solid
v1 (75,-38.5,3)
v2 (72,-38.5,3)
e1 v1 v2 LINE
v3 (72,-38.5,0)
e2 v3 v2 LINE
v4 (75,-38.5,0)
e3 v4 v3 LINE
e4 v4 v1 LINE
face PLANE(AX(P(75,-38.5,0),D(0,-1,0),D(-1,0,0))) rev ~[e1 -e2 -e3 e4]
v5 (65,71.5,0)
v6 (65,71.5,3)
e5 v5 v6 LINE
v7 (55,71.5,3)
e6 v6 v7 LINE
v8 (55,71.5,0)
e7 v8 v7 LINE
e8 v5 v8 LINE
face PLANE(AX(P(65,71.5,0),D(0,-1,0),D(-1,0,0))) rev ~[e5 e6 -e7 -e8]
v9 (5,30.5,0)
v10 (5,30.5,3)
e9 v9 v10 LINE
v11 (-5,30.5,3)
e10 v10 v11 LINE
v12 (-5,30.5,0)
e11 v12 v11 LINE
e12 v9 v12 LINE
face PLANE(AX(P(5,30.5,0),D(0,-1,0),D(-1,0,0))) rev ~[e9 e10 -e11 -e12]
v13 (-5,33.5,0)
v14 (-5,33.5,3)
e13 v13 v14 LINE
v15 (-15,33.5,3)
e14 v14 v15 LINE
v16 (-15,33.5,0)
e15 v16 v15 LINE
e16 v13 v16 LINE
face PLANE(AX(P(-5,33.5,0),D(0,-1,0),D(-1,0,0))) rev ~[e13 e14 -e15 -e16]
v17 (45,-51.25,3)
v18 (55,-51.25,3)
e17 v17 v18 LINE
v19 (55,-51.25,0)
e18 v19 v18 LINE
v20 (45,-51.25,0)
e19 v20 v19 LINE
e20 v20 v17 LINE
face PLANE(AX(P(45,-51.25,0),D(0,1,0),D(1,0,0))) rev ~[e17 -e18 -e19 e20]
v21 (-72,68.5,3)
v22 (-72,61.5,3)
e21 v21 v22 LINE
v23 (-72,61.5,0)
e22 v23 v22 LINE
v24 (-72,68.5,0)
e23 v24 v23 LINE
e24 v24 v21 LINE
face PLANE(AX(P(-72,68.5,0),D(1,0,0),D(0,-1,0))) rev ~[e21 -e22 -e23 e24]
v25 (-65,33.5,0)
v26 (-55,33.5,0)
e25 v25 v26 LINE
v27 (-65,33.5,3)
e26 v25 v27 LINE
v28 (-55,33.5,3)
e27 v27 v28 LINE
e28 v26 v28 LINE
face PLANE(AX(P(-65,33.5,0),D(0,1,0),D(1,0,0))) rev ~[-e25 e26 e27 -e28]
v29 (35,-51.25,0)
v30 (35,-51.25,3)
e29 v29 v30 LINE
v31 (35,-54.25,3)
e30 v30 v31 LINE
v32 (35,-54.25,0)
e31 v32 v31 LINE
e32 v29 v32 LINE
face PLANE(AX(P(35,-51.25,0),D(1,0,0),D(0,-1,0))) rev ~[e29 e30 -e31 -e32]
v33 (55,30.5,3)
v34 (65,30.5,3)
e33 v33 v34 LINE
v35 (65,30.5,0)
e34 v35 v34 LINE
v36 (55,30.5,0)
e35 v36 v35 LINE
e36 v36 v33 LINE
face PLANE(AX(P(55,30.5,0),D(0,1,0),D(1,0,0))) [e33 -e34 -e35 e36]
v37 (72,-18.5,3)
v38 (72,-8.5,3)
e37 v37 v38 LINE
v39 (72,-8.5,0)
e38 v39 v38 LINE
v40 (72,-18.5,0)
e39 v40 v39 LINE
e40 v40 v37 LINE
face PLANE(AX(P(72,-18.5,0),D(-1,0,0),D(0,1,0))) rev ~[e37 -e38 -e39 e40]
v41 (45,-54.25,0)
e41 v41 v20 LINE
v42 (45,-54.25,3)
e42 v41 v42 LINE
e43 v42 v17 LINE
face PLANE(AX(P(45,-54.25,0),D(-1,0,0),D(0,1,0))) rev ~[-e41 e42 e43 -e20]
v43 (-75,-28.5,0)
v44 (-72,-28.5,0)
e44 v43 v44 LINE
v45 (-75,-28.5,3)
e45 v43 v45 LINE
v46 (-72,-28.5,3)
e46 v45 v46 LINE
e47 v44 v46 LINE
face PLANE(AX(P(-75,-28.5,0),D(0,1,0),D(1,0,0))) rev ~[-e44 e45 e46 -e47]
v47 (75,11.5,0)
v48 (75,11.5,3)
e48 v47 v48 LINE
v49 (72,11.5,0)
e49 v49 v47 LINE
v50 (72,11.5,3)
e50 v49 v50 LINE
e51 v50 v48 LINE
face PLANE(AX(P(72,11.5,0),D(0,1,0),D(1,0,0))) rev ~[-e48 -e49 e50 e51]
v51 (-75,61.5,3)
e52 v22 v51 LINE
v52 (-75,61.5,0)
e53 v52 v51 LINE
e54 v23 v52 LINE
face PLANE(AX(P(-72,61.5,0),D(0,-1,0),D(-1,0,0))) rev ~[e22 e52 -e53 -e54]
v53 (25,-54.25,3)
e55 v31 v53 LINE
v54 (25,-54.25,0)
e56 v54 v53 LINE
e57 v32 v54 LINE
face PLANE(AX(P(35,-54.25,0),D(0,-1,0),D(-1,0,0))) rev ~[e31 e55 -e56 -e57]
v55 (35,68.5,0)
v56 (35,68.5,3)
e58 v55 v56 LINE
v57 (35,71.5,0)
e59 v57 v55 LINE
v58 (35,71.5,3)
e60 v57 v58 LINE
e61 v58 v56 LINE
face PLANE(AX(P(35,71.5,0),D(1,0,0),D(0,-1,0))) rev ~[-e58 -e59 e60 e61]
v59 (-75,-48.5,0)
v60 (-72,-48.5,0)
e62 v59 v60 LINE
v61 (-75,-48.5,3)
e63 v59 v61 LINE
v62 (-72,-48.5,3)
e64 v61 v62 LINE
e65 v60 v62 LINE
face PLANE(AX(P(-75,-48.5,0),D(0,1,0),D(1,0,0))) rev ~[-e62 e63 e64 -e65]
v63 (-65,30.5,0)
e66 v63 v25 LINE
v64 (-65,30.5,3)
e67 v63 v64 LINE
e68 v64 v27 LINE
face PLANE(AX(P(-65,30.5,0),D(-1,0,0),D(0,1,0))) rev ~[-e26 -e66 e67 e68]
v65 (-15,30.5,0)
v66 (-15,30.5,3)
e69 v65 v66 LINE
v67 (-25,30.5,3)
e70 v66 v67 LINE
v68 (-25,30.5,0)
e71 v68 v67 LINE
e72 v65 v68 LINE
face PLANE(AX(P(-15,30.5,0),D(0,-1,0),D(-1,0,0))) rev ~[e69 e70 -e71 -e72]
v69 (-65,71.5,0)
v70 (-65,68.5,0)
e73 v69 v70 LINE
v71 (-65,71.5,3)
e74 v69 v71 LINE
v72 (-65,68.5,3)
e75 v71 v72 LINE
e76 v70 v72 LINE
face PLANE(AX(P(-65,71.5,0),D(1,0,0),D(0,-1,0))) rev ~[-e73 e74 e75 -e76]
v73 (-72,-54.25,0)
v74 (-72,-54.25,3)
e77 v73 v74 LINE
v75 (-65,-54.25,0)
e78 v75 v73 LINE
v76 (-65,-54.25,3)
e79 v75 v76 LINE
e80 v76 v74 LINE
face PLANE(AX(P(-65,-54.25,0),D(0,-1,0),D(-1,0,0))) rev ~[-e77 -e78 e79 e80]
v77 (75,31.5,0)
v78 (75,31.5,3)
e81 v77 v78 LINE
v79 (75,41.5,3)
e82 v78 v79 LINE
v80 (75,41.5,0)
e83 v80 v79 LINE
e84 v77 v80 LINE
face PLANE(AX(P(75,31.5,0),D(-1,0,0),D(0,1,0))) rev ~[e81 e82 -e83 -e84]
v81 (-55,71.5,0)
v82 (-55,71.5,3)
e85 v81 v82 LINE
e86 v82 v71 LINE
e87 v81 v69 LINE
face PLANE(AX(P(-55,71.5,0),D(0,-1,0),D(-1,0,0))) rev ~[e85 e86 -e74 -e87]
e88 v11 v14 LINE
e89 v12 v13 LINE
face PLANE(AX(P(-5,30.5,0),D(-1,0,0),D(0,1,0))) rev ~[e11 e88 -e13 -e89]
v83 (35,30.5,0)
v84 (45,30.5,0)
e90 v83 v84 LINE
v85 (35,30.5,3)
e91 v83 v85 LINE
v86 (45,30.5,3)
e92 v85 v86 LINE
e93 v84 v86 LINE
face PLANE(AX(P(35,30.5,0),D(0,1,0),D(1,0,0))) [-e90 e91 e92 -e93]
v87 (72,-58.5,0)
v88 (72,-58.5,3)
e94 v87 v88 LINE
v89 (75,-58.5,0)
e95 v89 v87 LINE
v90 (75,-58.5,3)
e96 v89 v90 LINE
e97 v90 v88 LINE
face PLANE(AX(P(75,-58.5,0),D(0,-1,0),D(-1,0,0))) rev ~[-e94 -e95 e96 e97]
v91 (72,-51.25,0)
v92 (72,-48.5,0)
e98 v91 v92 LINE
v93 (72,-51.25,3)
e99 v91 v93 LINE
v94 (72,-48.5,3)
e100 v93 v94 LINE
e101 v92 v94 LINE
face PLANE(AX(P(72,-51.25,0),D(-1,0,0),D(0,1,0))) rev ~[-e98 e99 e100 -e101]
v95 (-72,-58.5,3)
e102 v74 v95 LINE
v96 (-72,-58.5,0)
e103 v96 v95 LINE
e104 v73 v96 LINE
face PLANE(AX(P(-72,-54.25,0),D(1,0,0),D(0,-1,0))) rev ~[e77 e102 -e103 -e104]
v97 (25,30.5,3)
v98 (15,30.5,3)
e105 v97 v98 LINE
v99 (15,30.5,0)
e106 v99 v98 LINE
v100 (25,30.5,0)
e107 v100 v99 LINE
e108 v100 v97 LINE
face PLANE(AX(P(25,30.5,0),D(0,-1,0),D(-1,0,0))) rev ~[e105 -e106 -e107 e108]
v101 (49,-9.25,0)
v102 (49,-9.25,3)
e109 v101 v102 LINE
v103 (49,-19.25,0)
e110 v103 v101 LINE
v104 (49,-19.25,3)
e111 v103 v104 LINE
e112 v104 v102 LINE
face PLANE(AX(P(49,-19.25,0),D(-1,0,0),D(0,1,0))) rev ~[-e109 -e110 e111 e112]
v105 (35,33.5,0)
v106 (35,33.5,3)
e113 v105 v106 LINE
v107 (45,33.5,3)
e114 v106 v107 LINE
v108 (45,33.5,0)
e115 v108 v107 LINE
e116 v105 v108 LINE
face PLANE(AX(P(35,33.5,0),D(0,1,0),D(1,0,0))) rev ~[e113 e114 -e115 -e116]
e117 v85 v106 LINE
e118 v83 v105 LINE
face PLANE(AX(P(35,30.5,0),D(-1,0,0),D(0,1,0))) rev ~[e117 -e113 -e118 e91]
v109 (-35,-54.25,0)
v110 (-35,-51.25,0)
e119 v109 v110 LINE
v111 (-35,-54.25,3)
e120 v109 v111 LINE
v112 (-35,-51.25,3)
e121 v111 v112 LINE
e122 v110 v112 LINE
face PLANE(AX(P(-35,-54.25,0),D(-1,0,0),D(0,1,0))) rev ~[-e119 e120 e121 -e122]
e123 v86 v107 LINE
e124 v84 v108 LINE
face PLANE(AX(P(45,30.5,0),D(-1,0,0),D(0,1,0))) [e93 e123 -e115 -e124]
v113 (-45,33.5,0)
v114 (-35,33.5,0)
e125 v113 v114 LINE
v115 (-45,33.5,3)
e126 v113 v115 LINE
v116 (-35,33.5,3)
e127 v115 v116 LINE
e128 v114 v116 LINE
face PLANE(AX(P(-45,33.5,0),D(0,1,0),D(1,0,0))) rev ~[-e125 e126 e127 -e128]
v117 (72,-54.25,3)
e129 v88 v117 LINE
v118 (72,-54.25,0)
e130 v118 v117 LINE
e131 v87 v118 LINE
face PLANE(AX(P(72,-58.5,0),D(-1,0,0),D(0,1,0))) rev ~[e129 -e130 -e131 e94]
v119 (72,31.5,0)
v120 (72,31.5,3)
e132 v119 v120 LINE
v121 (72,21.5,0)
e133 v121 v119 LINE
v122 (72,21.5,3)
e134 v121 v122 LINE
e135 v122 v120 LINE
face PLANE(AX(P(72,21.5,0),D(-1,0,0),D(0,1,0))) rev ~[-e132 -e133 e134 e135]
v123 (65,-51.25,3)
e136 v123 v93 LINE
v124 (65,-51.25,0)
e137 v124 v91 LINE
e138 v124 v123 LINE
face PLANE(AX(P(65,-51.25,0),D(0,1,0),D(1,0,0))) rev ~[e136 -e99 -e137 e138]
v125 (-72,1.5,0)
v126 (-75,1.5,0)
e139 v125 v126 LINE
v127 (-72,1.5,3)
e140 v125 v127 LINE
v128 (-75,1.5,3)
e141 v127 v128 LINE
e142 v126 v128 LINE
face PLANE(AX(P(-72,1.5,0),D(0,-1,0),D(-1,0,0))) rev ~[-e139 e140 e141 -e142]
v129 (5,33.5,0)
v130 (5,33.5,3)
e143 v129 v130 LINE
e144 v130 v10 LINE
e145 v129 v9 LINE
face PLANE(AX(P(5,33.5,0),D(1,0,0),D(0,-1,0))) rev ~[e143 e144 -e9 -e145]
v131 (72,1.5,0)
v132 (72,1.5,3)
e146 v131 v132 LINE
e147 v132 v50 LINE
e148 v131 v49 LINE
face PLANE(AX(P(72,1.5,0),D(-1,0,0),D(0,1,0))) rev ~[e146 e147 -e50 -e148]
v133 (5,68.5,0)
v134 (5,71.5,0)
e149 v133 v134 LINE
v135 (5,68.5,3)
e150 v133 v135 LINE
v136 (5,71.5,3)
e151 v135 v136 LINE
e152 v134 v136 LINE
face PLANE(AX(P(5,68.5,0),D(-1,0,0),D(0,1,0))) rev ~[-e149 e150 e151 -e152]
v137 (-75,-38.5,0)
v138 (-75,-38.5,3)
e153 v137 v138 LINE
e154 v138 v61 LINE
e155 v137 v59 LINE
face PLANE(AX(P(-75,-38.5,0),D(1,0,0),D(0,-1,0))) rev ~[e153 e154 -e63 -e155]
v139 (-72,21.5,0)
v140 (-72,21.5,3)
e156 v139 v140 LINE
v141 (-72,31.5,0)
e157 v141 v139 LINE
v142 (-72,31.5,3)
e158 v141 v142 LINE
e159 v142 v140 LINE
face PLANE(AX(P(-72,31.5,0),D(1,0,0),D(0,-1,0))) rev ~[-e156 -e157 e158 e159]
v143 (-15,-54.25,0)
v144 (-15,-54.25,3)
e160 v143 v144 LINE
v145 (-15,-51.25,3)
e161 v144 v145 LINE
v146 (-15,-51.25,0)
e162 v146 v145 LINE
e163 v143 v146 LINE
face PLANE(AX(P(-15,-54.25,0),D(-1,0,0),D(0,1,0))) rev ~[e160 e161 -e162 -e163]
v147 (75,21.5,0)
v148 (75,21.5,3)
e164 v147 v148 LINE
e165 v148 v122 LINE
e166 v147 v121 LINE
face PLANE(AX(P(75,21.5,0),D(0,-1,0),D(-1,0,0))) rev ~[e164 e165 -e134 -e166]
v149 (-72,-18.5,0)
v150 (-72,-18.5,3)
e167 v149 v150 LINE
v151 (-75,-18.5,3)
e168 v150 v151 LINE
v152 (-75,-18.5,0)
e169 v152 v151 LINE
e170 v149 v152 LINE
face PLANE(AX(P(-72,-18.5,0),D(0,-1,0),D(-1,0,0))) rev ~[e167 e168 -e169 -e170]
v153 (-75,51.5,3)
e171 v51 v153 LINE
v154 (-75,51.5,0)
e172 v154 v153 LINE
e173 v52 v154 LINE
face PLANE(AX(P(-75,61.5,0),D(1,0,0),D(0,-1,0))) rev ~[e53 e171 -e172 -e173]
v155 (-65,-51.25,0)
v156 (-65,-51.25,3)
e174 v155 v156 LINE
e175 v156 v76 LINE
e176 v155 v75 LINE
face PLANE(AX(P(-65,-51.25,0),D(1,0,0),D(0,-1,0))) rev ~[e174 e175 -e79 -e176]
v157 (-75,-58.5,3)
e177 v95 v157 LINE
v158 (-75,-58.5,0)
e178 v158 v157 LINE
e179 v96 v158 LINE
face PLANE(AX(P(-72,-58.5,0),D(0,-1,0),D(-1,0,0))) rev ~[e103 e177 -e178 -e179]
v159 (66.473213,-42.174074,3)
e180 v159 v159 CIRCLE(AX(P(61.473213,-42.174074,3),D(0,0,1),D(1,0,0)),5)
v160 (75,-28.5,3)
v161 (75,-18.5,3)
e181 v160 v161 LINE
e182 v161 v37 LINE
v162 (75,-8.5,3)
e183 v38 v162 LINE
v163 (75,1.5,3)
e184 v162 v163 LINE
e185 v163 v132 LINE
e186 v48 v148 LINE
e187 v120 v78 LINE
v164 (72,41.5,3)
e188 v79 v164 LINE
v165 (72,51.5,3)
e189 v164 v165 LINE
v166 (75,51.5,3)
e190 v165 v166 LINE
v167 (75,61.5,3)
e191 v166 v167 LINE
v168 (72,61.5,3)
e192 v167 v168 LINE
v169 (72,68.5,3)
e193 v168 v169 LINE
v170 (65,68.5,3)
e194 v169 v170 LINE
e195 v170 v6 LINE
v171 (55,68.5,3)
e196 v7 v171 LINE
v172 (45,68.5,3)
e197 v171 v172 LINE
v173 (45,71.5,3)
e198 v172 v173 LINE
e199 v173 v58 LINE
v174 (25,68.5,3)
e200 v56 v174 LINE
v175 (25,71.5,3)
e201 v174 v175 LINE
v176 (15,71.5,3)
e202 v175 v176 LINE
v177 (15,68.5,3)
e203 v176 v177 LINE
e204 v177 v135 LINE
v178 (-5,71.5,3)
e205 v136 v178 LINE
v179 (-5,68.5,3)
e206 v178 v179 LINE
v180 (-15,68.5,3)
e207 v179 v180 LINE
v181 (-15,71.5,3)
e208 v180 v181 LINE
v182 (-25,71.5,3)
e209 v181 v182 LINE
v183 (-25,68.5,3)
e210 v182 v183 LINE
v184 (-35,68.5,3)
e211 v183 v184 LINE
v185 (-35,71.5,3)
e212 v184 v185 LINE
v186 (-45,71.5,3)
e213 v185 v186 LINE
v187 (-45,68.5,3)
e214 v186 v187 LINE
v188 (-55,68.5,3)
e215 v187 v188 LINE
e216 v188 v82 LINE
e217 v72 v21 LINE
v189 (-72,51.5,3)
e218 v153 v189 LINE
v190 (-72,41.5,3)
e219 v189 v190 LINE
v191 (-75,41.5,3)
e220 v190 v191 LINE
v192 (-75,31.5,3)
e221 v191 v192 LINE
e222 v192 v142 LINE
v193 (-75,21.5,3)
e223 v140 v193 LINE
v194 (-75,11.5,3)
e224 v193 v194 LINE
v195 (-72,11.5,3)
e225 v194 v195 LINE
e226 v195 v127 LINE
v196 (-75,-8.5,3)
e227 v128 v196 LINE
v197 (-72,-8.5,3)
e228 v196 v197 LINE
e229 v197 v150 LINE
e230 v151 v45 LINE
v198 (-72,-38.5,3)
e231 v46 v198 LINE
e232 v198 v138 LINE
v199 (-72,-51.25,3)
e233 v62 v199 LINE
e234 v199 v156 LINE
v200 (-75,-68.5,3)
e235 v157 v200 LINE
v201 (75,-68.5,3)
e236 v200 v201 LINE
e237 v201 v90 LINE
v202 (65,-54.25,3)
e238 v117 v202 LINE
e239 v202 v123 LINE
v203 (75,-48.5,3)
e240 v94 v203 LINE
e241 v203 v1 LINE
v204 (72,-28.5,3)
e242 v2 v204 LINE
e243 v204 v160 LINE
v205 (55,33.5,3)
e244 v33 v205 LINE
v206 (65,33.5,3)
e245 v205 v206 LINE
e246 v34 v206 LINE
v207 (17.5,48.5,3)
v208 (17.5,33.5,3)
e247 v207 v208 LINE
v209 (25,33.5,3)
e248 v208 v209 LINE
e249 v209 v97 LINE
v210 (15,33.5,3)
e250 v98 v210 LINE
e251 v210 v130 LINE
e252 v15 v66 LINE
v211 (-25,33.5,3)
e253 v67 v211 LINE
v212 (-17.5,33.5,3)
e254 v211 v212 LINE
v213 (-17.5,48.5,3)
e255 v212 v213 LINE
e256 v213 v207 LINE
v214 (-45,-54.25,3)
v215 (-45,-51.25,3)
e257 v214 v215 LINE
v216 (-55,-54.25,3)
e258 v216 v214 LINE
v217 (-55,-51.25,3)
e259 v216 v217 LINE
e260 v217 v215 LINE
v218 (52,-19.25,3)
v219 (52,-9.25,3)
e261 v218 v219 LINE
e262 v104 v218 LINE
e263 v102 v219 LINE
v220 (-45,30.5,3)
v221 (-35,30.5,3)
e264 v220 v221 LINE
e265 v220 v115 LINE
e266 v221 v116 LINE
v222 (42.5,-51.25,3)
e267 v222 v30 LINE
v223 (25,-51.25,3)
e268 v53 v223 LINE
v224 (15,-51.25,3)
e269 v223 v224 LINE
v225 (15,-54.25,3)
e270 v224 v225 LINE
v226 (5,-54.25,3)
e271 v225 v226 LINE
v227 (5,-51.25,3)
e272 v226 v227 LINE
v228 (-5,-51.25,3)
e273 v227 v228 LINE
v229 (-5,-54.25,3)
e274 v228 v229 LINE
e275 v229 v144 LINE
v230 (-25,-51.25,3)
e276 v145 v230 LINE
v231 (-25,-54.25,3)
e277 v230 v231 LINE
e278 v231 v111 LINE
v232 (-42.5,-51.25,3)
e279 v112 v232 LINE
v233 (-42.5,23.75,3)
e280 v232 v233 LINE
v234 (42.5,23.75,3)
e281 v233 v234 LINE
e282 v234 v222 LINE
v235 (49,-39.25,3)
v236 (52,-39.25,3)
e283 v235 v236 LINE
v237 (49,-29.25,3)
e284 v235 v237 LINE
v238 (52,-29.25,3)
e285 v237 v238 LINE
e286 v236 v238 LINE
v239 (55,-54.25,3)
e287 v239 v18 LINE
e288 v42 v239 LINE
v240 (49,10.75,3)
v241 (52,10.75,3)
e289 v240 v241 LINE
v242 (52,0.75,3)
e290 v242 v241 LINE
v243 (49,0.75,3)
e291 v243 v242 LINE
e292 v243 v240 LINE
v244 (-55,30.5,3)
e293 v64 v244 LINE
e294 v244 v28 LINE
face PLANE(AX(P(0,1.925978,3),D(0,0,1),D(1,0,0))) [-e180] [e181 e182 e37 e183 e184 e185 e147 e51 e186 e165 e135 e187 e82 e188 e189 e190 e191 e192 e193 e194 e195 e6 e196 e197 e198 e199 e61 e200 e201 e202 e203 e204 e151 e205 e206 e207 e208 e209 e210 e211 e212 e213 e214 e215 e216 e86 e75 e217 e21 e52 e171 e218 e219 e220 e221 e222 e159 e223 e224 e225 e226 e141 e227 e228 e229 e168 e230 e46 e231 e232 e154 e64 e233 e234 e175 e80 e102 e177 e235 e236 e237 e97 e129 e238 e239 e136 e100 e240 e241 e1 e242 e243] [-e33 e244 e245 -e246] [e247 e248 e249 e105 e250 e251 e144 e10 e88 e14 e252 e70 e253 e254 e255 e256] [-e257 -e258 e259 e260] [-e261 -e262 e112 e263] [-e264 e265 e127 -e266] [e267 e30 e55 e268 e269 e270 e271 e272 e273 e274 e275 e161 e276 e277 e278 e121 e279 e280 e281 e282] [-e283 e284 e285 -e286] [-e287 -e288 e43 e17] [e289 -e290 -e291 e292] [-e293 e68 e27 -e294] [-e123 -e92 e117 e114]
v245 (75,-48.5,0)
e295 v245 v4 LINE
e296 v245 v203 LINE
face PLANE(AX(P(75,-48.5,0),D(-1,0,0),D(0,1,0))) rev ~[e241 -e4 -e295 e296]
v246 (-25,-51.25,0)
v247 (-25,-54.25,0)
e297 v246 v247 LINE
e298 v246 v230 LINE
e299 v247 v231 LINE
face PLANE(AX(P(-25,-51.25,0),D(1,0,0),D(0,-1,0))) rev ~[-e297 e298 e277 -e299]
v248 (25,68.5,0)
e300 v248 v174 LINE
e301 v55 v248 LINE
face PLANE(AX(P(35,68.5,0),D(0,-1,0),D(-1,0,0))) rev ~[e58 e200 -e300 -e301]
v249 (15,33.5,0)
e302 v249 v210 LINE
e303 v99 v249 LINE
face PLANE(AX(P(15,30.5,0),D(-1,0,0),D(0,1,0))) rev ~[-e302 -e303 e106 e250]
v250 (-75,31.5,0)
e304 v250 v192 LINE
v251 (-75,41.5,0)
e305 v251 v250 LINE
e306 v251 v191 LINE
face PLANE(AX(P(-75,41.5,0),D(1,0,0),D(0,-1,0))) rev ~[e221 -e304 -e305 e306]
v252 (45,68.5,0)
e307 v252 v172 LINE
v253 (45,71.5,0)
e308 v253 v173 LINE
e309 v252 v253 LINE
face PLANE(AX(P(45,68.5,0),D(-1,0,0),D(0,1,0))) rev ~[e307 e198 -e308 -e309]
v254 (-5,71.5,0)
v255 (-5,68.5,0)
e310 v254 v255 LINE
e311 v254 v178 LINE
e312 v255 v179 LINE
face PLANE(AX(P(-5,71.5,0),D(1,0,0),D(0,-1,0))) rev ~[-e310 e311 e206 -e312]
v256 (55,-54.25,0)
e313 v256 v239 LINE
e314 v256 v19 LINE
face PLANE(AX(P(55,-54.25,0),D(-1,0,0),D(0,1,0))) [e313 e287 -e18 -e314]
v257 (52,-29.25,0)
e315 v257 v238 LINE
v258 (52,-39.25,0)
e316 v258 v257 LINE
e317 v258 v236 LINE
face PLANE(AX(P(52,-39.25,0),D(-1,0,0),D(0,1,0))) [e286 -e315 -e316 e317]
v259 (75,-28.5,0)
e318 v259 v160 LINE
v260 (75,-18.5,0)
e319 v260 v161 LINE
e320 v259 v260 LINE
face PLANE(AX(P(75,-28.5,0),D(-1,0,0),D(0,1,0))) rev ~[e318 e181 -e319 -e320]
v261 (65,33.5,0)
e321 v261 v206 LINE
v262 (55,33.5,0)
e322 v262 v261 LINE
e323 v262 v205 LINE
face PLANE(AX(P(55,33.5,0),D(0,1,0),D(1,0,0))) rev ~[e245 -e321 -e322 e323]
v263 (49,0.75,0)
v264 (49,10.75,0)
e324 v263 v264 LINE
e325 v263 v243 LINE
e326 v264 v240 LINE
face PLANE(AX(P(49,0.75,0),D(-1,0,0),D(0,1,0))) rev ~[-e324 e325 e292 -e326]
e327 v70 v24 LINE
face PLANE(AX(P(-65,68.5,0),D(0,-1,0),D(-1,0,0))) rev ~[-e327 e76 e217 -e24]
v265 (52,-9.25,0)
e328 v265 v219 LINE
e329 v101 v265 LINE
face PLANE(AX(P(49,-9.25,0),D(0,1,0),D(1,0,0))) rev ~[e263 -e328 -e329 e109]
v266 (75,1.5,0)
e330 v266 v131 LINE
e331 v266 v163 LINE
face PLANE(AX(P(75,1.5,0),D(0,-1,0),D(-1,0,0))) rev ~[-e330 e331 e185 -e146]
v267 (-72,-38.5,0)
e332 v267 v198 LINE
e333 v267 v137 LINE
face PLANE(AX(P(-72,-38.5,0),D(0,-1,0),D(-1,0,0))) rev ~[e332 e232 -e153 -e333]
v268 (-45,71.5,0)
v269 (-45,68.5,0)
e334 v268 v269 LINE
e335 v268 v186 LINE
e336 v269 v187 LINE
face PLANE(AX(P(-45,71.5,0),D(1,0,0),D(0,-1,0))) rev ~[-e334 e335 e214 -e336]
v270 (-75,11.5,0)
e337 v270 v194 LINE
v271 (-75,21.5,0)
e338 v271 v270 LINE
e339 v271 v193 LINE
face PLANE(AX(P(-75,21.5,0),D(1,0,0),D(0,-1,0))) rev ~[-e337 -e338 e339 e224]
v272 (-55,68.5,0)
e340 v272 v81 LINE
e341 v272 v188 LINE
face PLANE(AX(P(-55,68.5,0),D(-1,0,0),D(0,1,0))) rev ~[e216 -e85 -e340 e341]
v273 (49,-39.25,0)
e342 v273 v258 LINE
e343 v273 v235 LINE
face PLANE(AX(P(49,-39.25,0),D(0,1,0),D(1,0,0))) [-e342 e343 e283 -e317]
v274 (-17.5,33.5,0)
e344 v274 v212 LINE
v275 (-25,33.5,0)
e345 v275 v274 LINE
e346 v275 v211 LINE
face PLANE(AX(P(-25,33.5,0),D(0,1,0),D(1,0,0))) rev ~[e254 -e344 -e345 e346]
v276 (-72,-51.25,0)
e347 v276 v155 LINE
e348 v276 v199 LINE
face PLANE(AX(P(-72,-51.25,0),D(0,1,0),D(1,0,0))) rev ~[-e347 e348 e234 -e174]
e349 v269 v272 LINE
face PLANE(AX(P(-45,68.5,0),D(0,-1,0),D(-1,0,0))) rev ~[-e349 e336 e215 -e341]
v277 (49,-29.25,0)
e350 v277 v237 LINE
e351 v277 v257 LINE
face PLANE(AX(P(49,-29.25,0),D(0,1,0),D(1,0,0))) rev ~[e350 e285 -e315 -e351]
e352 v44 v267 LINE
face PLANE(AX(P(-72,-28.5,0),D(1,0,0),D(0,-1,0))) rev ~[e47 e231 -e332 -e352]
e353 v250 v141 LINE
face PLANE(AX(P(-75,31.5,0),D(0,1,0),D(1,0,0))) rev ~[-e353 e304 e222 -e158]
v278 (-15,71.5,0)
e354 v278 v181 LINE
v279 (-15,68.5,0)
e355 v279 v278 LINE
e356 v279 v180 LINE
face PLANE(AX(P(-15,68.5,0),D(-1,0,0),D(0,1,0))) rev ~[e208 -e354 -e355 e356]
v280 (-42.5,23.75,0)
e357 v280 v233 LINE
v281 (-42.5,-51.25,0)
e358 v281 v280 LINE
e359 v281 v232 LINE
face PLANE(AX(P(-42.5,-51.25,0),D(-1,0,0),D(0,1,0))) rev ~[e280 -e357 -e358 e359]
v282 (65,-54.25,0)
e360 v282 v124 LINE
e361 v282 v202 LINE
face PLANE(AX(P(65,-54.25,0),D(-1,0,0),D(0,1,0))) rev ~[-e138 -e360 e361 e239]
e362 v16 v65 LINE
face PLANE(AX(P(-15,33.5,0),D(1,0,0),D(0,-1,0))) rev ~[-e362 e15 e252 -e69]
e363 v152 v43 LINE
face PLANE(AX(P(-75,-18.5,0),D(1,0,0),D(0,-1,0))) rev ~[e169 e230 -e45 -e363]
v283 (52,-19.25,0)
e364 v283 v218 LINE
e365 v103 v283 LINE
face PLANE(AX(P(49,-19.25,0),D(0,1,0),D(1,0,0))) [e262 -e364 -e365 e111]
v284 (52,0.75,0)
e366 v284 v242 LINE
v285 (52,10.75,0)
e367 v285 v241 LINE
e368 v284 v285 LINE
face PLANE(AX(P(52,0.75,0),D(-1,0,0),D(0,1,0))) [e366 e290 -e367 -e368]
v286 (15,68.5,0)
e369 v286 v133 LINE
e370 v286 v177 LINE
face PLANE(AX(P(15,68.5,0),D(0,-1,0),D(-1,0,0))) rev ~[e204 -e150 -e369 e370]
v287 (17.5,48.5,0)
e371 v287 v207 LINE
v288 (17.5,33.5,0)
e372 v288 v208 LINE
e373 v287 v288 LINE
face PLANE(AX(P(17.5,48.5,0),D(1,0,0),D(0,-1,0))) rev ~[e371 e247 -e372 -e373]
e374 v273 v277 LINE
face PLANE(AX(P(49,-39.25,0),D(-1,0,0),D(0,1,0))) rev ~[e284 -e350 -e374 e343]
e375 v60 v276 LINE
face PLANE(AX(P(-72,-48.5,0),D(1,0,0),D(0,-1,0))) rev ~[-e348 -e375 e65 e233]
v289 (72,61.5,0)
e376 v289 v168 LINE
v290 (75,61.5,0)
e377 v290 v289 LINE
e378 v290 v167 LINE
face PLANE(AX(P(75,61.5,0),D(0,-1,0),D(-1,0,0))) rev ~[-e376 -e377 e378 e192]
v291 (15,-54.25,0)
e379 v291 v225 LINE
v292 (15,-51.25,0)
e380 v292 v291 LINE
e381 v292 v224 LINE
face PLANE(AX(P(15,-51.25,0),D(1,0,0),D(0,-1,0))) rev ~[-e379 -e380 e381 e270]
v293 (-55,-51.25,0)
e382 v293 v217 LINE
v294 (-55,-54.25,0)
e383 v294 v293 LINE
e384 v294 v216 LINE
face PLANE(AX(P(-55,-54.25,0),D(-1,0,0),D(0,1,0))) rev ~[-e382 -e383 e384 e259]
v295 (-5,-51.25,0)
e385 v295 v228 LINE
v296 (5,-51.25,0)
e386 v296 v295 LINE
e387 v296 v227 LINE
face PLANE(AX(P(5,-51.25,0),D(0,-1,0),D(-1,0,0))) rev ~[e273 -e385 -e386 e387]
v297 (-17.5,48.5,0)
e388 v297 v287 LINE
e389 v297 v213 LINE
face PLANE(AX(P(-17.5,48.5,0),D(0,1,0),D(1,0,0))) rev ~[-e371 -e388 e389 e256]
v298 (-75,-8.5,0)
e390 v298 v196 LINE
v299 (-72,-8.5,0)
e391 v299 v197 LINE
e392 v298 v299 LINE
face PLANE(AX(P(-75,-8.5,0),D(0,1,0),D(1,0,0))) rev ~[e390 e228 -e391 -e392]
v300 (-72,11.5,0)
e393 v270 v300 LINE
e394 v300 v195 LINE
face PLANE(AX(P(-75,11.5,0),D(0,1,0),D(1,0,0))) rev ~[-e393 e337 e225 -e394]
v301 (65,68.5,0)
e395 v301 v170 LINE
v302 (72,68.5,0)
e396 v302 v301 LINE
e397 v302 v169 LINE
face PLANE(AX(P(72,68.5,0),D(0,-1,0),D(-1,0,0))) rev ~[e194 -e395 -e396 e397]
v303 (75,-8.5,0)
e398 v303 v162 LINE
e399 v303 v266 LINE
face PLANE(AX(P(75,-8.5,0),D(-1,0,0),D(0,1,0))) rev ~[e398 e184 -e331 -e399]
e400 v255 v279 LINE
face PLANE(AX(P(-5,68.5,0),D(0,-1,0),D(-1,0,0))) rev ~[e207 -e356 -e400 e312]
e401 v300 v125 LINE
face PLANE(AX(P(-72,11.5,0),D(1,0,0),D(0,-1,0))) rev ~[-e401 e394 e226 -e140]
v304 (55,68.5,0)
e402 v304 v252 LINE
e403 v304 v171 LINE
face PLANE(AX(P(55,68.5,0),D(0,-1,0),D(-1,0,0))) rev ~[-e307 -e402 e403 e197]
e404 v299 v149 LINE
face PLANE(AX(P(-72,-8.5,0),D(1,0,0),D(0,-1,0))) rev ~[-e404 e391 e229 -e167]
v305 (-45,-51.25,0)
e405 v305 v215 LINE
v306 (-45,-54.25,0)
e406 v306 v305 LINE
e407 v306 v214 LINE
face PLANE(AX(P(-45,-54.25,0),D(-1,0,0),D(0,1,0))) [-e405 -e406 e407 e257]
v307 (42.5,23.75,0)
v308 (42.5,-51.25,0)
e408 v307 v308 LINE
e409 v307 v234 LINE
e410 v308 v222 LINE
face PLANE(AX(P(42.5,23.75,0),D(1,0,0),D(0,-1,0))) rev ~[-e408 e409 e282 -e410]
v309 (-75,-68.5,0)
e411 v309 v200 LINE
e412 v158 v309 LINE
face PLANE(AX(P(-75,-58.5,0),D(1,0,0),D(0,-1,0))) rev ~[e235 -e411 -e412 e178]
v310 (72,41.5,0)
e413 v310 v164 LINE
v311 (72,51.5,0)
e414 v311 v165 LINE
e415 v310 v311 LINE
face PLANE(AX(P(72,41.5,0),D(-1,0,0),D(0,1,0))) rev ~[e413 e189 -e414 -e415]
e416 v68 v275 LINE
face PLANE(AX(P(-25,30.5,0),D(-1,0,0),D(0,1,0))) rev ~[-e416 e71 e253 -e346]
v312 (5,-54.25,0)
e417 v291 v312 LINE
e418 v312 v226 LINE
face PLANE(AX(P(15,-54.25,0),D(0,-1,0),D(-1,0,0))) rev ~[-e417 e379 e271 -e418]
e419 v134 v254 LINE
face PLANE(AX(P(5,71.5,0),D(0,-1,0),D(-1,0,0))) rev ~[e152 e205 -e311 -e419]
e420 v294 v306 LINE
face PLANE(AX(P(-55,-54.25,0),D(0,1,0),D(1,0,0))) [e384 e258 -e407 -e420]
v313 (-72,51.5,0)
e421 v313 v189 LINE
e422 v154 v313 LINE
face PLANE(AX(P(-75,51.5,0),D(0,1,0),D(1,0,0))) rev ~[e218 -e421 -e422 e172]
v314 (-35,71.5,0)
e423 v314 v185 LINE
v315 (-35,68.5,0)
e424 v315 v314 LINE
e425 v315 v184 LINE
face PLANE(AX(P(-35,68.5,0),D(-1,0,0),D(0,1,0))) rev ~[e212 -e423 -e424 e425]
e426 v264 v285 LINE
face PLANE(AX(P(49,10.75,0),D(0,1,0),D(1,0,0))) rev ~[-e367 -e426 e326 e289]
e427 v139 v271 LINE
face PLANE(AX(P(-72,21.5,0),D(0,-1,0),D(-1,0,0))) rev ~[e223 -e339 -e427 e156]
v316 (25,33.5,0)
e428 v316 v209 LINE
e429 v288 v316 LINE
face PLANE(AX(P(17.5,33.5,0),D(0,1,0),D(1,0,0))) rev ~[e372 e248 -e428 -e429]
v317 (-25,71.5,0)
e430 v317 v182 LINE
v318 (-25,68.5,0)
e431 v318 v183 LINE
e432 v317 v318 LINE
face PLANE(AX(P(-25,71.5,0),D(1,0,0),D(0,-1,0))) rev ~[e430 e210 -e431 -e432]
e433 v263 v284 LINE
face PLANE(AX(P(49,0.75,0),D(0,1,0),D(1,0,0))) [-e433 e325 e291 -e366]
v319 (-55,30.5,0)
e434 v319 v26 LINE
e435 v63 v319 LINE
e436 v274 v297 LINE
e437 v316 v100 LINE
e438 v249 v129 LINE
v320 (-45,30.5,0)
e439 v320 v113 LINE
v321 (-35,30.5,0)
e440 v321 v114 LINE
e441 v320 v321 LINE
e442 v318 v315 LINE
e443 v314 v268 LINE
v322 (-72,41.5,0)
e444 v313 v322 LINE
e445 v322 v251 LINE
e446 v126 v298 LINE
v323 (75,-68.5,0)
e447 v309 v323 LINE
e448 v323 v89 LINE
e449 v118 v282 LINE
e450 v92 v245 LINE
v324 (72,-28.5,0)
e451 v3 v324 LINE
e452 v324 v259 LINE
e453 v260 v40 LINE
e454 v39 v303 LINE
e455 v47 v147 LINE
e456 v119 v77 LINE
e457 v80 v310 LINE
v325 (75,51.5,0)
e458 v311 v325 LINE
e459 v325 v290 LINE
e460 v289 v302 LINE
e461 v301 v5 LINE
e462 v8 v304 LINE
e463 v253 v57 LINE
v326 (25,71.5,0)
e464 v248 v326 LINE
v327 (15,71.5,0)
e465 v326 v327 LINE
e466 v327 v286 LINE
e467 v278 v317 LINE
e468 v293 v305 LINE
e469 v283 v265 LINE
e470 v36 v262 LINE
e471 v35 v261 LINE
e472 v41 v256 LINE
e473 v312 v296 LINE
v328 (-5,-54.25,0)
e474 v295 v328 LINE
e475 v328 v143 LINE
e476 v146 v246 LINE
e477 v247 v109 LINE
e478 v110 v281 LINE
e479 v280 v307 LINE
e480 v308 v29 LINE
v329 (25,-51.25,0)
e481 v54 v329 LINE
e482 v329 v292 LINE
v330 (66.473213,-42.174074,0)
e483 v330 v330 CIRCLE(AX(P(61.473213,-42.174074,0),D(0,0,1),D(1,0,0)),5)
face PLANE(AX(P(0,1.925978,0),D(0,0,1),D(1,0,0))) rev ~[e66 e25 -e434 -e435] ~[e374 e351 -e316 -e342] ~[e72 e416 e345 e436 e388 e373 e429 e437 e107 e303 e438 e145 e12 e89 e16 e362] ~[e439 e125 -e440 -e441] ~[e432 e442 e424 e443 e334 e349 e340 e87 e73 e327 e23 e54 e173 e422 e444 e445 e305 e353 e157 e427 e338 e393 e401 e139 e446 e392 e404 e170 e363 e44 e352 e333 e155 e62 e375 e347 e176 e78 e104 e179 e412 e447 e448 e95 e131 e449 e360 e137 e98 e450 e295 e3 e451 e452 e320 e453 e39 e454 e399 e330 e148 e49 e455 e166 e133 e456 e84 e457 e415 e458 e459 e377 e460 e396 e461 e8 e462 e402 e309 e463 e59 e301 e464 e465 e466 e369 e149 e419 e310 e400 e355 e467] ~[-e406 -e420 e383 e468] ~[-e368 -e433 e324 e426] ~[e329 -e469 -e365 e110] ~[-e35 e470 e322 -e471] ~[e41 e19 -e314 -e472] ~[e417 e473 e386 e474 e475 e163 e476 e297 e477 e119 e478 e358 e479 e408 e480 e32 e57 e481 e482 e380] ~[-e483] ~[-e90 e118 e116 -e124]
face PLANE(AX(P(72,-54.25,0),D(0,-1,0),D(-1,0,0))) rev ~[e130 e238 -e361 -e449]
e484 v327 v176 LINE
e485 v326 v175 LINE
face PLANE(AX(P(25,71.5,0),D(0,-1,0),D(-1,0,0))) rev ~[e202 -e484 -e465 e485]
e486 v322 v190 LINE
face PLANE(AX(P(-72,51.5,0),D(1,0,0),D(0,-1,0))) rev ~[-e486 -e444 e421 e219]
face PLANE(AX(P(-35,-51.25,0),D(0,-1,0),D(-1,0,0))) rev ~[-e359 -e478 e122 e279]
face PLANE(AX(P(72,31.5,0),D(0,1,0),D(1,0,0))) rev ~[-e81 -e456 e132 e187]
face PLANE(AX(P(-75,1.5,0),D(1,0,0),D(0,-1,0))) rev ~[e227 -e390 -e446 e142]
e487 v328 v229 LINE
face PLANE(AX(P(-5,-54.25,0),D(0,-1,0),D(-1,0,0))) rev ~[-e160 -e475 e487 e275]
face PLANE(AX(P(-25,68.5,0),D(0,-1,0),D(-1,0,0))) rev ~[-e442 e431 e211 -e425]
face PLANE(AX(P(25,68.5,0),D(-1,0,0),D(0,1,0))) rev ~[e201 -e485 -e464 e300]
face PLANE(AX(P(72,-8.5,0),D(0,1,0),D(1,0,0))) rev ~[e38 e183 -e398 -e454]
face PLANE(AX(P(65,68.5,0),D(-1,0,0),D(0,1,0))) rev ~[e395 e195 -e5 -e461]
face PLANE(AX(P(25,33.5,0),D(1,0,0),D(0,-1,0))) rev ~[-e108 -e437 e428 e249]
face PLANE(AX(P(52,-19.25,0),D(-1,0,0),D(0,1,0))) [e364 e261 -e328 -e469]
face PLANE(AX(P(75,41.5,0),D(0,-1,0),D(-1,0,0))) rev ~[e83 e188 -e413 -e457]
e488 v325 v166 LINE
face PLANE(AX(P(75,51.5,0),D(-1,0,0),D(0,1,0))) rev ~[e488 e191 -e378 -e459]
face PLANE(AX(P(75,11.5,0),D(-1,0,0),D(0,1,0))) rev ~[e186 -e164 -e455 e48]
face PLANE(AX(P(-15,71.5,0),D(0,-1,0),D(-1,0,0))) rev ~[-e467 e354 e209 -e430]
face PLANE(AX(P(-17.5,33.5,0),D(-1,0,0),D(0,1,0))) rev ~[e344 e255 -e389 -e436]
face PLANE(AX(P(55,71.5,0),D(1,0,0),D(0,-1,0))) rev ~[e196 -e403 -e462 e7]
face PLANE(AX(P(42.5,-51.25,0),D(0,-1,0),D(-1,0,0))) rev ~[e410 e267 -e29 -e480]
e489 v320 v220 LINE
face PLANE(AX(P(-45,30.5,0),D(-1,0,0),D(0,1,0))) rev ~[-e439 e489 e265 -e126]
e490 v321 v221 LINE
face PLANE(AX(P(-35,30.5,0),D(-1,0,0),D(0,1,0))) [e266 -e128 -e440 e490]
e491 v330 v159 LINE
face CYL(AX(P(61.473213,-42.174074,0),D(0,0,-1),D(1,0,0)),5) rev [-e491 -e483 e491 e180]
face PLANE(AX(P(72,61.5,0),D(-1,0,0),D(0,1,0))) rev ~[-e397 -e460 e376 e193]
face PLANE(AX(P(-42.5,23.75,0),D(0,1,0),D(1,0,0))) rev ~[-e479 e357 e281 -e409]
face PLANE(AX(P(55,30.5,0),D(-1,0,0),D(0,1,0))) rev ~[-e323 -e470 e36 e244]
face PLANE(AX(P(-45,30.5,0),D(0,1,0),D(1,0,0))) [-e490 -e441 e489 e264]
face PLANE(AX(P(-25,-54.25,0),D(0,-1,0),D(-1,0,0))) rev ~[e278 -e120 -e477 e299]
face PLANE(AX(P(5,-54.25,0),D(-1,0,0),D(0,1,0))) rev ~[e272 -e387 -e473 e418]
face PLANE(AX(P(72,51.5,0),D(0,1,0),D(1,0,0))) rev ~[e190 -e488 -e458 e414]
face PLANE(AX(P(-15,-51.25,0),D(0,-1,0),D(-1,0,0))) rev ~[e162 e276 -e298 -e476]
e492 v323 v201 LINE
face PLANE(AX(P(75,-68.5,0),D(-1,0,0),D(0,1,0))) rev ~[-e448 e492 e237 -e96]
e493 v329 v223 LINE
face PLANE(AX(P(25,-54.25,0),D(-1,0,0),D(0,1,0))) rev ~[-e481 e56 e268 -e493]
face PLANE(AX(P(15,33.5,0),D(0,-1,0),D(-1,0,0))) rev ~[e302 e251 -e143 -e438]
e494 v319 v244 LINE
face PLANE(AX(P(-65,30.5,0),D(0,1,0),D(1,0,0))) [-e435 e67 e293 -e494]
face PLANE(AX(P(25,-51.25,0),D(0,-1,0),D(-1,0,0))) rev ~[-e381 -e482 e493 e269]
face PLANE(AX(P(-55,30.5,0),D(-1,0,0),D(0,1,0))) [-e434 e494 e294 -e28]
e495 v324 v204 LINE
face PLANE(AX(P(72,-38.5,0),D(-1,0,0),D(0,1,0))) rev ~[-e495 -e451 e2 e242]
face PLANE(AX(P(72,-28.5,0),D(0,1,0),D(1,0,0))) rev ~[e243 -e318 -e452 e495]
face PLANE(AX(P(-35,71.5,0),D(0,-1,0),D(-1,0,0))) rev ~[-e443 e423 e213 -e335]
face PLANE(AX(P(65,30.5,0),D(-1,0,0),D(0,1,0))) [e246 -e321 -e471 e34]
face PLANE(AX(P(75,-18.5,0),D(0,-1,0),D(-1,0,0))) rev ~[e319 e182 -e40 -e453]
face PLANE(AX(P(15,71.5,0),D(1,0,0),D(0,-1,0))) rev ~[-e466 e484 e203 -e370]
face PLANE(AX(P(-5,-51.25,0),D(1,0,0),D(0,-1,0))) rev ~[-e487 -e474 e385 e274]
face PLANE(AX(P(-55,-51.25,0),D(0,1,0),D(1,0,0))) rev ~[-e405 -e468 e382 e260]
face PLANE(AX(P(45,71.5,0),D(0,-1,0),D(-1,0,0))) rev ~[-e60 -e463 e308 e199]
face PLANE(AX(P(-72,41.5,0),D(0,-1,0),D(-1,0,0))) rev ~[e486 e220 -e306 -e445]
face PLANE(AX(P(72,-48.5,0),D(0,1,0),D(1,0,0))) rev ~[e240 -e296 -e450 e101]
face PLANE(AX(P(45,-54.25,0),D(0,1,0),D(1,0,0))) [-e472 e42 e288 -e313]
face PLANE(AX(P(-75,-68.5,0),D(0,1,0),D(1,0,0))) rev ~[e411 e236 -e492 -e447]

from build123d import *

# Parameters (mm, degrees)
CROQUIS1_W              = 10
CROQUIS1_H              = 3
CROQUIS1_W_2            = 3
CROQUIS1_H_2            = 10
CROQUIS1_R              = 5
SALIENTE_EXTRUIR1_DEPTH = 3


with BuildPart() as part:
    # Croquis1 → Saliente-Extruir1 (new body)
    with BuildSketch(Plane.XY):
        Polygon((-35, 71.5), (-45, 71.5), (-45, 68.5), (-55, 68.5), (-55, 71.5), (-65, 71.5), (-65, 68.5), (-72, 68.5), (-72, 61.5), (-75, 61.5), (-75, 51.5), (-72, 51.5), (-72, 41.5), (-75, 41.5), (-75, 31.5), (-72, 31.5), (-72, 21.5), (-75, 21.5), (-75, 11.5), (-72, 11.5), (-72, 1.5), (-75, 1.5), (-75, -8.5), (-72, -8.5), (-72, -18.5), (-75, -18.5), (-75, -28.5), (-72, -28.5), (-72, -38.5), (-75, -38.5), (-75, -48.5), (-72, -48.5), (-72, -51.25), (-65, -51.25), (-65, -54.25), (-72, -54.25), (-72, -58.5), (-75, -58.5), (-75, -68.5), (-72, -68.5), (72, -68.5), (75, -68.5), (75, -58.5), (72, -58.5), (72, -54.25), (65, -54.25), (65, -51.25), (72, -51.25), (72, -48.5), (75, -48.5), (75, -38.5), (72, -38.5), (72, -28.5), (75, -28.5), (75, -18.5), (72, -18.5), (72, -8.5), (75, -8.5), (75, 1.5), (72, 1.5), (72, 11.5), (75, 11.5), (75, 21.5), (72, 21.5), (72, 31.5), (75, 31.5), (75, 41.5), (72, 41.5), (72, 51.5), (75, 51.5), (75, 61.5), (72, 61.5), (72, 68.5), (65, 68.5), (65, 71.5), (55, 71.5), (55, 68.5), (45, 68.5), (45, 71.5), (35, 71.5), (35, 68.5), (25, 68.5), (25, 71.5), (15, 71.5), (15, 68.5), (5, 68.5), (5, 71.5), (-5, 71.5), (-5, 68.5), (-15, 68.5), (-15, 71.5), (-25, 71.5), (-25, 68.5), (-35, 68.5), align=None)
        with Locations((-50, -52.75)):
            Rectangle(CROQUIS1_W, CROQUIS1_H, mode=Mode.SUBTRACT)
        Polygon((-35, -54.25), (-35, -51.25), (-42.5, -51.25), (-42.5, 23.75), (42.5, 23.75), (42.5, -51.25), (35, -51.25), (35, -54.25), (25, -54.25), (25, -51.25), (15, -51.25), (15, -54.25), (5, -54.25), (5, -51.25), (-5, -51.25), (-5, -54.25), (-15, -54.25), (-15, -51.25), (-25, -51.25), (-25, -54.25), align=None, mode=Mode.SUBTRACT)
        with Locations((50, -52.75)):
            Rectangle(CROQUIS1_W, CROQUIS1_H, mode=Mode.SUBTRACT)
        with Locations((50.5, -34.25)):
            Rectangle(CROQUIS1_W_2, CROQUIS1_H_2, mode=Mode.SUBTRACT)
        with Locations((61.473213392, -42.174074015)):
            Circle(CROQUIS1_R, mode=Mode.SUBTRACT)
        with Locations((50.5, -14.25)):
            Rectangle(CROQUIS1_W_2, CROQUIS1_H_2, mode=Mode.SUBTRACT)
        with Locations((-60, 32)):
            Rectangle(CROQUIS1_W, CROQUIS1_H, mode=Mode.SUBTRACT)
        with Locations((-40, 32)):
            Rectangle(CROQUIS1_W, CROQUIS1_H, mode=Mode.SUBTRACT)
        Polygon((-25, 30.5), (-25, 33.5), (-17.5, 33.5), (-17.5, 48.5), (17.5, 48.5), (17.5, 33.5), (25, 33.5), (25, 30.5), (15, 30.5), (15, 33.5), (5, 33.5), (5, 30.5), (-5, 30.5), (-5, 33.5), (-15, 33.5), (-15, 30.5), align=None, mode=Mode.SUBTRACT)
        with Locations((50.5, 5.75)):
            Rectangle(CROQUIS1_W_2, CROQUIS1_H_2, mode=Mode.SUBTRACT)
        with Locations((40, 32)):
            Rectangle(CROQUIS1_W, CROQUIS1_H, mode=Mode.SUBTRACT)
        with Locations((60, 32)):
            Rectangle(CROQUIS1_W, CROQUIS1_H, mode=Mode.SUBTRACT)
    extrude(amount=SALIENTE_EXTRUIR1_DEPTH)


solid = part.part
